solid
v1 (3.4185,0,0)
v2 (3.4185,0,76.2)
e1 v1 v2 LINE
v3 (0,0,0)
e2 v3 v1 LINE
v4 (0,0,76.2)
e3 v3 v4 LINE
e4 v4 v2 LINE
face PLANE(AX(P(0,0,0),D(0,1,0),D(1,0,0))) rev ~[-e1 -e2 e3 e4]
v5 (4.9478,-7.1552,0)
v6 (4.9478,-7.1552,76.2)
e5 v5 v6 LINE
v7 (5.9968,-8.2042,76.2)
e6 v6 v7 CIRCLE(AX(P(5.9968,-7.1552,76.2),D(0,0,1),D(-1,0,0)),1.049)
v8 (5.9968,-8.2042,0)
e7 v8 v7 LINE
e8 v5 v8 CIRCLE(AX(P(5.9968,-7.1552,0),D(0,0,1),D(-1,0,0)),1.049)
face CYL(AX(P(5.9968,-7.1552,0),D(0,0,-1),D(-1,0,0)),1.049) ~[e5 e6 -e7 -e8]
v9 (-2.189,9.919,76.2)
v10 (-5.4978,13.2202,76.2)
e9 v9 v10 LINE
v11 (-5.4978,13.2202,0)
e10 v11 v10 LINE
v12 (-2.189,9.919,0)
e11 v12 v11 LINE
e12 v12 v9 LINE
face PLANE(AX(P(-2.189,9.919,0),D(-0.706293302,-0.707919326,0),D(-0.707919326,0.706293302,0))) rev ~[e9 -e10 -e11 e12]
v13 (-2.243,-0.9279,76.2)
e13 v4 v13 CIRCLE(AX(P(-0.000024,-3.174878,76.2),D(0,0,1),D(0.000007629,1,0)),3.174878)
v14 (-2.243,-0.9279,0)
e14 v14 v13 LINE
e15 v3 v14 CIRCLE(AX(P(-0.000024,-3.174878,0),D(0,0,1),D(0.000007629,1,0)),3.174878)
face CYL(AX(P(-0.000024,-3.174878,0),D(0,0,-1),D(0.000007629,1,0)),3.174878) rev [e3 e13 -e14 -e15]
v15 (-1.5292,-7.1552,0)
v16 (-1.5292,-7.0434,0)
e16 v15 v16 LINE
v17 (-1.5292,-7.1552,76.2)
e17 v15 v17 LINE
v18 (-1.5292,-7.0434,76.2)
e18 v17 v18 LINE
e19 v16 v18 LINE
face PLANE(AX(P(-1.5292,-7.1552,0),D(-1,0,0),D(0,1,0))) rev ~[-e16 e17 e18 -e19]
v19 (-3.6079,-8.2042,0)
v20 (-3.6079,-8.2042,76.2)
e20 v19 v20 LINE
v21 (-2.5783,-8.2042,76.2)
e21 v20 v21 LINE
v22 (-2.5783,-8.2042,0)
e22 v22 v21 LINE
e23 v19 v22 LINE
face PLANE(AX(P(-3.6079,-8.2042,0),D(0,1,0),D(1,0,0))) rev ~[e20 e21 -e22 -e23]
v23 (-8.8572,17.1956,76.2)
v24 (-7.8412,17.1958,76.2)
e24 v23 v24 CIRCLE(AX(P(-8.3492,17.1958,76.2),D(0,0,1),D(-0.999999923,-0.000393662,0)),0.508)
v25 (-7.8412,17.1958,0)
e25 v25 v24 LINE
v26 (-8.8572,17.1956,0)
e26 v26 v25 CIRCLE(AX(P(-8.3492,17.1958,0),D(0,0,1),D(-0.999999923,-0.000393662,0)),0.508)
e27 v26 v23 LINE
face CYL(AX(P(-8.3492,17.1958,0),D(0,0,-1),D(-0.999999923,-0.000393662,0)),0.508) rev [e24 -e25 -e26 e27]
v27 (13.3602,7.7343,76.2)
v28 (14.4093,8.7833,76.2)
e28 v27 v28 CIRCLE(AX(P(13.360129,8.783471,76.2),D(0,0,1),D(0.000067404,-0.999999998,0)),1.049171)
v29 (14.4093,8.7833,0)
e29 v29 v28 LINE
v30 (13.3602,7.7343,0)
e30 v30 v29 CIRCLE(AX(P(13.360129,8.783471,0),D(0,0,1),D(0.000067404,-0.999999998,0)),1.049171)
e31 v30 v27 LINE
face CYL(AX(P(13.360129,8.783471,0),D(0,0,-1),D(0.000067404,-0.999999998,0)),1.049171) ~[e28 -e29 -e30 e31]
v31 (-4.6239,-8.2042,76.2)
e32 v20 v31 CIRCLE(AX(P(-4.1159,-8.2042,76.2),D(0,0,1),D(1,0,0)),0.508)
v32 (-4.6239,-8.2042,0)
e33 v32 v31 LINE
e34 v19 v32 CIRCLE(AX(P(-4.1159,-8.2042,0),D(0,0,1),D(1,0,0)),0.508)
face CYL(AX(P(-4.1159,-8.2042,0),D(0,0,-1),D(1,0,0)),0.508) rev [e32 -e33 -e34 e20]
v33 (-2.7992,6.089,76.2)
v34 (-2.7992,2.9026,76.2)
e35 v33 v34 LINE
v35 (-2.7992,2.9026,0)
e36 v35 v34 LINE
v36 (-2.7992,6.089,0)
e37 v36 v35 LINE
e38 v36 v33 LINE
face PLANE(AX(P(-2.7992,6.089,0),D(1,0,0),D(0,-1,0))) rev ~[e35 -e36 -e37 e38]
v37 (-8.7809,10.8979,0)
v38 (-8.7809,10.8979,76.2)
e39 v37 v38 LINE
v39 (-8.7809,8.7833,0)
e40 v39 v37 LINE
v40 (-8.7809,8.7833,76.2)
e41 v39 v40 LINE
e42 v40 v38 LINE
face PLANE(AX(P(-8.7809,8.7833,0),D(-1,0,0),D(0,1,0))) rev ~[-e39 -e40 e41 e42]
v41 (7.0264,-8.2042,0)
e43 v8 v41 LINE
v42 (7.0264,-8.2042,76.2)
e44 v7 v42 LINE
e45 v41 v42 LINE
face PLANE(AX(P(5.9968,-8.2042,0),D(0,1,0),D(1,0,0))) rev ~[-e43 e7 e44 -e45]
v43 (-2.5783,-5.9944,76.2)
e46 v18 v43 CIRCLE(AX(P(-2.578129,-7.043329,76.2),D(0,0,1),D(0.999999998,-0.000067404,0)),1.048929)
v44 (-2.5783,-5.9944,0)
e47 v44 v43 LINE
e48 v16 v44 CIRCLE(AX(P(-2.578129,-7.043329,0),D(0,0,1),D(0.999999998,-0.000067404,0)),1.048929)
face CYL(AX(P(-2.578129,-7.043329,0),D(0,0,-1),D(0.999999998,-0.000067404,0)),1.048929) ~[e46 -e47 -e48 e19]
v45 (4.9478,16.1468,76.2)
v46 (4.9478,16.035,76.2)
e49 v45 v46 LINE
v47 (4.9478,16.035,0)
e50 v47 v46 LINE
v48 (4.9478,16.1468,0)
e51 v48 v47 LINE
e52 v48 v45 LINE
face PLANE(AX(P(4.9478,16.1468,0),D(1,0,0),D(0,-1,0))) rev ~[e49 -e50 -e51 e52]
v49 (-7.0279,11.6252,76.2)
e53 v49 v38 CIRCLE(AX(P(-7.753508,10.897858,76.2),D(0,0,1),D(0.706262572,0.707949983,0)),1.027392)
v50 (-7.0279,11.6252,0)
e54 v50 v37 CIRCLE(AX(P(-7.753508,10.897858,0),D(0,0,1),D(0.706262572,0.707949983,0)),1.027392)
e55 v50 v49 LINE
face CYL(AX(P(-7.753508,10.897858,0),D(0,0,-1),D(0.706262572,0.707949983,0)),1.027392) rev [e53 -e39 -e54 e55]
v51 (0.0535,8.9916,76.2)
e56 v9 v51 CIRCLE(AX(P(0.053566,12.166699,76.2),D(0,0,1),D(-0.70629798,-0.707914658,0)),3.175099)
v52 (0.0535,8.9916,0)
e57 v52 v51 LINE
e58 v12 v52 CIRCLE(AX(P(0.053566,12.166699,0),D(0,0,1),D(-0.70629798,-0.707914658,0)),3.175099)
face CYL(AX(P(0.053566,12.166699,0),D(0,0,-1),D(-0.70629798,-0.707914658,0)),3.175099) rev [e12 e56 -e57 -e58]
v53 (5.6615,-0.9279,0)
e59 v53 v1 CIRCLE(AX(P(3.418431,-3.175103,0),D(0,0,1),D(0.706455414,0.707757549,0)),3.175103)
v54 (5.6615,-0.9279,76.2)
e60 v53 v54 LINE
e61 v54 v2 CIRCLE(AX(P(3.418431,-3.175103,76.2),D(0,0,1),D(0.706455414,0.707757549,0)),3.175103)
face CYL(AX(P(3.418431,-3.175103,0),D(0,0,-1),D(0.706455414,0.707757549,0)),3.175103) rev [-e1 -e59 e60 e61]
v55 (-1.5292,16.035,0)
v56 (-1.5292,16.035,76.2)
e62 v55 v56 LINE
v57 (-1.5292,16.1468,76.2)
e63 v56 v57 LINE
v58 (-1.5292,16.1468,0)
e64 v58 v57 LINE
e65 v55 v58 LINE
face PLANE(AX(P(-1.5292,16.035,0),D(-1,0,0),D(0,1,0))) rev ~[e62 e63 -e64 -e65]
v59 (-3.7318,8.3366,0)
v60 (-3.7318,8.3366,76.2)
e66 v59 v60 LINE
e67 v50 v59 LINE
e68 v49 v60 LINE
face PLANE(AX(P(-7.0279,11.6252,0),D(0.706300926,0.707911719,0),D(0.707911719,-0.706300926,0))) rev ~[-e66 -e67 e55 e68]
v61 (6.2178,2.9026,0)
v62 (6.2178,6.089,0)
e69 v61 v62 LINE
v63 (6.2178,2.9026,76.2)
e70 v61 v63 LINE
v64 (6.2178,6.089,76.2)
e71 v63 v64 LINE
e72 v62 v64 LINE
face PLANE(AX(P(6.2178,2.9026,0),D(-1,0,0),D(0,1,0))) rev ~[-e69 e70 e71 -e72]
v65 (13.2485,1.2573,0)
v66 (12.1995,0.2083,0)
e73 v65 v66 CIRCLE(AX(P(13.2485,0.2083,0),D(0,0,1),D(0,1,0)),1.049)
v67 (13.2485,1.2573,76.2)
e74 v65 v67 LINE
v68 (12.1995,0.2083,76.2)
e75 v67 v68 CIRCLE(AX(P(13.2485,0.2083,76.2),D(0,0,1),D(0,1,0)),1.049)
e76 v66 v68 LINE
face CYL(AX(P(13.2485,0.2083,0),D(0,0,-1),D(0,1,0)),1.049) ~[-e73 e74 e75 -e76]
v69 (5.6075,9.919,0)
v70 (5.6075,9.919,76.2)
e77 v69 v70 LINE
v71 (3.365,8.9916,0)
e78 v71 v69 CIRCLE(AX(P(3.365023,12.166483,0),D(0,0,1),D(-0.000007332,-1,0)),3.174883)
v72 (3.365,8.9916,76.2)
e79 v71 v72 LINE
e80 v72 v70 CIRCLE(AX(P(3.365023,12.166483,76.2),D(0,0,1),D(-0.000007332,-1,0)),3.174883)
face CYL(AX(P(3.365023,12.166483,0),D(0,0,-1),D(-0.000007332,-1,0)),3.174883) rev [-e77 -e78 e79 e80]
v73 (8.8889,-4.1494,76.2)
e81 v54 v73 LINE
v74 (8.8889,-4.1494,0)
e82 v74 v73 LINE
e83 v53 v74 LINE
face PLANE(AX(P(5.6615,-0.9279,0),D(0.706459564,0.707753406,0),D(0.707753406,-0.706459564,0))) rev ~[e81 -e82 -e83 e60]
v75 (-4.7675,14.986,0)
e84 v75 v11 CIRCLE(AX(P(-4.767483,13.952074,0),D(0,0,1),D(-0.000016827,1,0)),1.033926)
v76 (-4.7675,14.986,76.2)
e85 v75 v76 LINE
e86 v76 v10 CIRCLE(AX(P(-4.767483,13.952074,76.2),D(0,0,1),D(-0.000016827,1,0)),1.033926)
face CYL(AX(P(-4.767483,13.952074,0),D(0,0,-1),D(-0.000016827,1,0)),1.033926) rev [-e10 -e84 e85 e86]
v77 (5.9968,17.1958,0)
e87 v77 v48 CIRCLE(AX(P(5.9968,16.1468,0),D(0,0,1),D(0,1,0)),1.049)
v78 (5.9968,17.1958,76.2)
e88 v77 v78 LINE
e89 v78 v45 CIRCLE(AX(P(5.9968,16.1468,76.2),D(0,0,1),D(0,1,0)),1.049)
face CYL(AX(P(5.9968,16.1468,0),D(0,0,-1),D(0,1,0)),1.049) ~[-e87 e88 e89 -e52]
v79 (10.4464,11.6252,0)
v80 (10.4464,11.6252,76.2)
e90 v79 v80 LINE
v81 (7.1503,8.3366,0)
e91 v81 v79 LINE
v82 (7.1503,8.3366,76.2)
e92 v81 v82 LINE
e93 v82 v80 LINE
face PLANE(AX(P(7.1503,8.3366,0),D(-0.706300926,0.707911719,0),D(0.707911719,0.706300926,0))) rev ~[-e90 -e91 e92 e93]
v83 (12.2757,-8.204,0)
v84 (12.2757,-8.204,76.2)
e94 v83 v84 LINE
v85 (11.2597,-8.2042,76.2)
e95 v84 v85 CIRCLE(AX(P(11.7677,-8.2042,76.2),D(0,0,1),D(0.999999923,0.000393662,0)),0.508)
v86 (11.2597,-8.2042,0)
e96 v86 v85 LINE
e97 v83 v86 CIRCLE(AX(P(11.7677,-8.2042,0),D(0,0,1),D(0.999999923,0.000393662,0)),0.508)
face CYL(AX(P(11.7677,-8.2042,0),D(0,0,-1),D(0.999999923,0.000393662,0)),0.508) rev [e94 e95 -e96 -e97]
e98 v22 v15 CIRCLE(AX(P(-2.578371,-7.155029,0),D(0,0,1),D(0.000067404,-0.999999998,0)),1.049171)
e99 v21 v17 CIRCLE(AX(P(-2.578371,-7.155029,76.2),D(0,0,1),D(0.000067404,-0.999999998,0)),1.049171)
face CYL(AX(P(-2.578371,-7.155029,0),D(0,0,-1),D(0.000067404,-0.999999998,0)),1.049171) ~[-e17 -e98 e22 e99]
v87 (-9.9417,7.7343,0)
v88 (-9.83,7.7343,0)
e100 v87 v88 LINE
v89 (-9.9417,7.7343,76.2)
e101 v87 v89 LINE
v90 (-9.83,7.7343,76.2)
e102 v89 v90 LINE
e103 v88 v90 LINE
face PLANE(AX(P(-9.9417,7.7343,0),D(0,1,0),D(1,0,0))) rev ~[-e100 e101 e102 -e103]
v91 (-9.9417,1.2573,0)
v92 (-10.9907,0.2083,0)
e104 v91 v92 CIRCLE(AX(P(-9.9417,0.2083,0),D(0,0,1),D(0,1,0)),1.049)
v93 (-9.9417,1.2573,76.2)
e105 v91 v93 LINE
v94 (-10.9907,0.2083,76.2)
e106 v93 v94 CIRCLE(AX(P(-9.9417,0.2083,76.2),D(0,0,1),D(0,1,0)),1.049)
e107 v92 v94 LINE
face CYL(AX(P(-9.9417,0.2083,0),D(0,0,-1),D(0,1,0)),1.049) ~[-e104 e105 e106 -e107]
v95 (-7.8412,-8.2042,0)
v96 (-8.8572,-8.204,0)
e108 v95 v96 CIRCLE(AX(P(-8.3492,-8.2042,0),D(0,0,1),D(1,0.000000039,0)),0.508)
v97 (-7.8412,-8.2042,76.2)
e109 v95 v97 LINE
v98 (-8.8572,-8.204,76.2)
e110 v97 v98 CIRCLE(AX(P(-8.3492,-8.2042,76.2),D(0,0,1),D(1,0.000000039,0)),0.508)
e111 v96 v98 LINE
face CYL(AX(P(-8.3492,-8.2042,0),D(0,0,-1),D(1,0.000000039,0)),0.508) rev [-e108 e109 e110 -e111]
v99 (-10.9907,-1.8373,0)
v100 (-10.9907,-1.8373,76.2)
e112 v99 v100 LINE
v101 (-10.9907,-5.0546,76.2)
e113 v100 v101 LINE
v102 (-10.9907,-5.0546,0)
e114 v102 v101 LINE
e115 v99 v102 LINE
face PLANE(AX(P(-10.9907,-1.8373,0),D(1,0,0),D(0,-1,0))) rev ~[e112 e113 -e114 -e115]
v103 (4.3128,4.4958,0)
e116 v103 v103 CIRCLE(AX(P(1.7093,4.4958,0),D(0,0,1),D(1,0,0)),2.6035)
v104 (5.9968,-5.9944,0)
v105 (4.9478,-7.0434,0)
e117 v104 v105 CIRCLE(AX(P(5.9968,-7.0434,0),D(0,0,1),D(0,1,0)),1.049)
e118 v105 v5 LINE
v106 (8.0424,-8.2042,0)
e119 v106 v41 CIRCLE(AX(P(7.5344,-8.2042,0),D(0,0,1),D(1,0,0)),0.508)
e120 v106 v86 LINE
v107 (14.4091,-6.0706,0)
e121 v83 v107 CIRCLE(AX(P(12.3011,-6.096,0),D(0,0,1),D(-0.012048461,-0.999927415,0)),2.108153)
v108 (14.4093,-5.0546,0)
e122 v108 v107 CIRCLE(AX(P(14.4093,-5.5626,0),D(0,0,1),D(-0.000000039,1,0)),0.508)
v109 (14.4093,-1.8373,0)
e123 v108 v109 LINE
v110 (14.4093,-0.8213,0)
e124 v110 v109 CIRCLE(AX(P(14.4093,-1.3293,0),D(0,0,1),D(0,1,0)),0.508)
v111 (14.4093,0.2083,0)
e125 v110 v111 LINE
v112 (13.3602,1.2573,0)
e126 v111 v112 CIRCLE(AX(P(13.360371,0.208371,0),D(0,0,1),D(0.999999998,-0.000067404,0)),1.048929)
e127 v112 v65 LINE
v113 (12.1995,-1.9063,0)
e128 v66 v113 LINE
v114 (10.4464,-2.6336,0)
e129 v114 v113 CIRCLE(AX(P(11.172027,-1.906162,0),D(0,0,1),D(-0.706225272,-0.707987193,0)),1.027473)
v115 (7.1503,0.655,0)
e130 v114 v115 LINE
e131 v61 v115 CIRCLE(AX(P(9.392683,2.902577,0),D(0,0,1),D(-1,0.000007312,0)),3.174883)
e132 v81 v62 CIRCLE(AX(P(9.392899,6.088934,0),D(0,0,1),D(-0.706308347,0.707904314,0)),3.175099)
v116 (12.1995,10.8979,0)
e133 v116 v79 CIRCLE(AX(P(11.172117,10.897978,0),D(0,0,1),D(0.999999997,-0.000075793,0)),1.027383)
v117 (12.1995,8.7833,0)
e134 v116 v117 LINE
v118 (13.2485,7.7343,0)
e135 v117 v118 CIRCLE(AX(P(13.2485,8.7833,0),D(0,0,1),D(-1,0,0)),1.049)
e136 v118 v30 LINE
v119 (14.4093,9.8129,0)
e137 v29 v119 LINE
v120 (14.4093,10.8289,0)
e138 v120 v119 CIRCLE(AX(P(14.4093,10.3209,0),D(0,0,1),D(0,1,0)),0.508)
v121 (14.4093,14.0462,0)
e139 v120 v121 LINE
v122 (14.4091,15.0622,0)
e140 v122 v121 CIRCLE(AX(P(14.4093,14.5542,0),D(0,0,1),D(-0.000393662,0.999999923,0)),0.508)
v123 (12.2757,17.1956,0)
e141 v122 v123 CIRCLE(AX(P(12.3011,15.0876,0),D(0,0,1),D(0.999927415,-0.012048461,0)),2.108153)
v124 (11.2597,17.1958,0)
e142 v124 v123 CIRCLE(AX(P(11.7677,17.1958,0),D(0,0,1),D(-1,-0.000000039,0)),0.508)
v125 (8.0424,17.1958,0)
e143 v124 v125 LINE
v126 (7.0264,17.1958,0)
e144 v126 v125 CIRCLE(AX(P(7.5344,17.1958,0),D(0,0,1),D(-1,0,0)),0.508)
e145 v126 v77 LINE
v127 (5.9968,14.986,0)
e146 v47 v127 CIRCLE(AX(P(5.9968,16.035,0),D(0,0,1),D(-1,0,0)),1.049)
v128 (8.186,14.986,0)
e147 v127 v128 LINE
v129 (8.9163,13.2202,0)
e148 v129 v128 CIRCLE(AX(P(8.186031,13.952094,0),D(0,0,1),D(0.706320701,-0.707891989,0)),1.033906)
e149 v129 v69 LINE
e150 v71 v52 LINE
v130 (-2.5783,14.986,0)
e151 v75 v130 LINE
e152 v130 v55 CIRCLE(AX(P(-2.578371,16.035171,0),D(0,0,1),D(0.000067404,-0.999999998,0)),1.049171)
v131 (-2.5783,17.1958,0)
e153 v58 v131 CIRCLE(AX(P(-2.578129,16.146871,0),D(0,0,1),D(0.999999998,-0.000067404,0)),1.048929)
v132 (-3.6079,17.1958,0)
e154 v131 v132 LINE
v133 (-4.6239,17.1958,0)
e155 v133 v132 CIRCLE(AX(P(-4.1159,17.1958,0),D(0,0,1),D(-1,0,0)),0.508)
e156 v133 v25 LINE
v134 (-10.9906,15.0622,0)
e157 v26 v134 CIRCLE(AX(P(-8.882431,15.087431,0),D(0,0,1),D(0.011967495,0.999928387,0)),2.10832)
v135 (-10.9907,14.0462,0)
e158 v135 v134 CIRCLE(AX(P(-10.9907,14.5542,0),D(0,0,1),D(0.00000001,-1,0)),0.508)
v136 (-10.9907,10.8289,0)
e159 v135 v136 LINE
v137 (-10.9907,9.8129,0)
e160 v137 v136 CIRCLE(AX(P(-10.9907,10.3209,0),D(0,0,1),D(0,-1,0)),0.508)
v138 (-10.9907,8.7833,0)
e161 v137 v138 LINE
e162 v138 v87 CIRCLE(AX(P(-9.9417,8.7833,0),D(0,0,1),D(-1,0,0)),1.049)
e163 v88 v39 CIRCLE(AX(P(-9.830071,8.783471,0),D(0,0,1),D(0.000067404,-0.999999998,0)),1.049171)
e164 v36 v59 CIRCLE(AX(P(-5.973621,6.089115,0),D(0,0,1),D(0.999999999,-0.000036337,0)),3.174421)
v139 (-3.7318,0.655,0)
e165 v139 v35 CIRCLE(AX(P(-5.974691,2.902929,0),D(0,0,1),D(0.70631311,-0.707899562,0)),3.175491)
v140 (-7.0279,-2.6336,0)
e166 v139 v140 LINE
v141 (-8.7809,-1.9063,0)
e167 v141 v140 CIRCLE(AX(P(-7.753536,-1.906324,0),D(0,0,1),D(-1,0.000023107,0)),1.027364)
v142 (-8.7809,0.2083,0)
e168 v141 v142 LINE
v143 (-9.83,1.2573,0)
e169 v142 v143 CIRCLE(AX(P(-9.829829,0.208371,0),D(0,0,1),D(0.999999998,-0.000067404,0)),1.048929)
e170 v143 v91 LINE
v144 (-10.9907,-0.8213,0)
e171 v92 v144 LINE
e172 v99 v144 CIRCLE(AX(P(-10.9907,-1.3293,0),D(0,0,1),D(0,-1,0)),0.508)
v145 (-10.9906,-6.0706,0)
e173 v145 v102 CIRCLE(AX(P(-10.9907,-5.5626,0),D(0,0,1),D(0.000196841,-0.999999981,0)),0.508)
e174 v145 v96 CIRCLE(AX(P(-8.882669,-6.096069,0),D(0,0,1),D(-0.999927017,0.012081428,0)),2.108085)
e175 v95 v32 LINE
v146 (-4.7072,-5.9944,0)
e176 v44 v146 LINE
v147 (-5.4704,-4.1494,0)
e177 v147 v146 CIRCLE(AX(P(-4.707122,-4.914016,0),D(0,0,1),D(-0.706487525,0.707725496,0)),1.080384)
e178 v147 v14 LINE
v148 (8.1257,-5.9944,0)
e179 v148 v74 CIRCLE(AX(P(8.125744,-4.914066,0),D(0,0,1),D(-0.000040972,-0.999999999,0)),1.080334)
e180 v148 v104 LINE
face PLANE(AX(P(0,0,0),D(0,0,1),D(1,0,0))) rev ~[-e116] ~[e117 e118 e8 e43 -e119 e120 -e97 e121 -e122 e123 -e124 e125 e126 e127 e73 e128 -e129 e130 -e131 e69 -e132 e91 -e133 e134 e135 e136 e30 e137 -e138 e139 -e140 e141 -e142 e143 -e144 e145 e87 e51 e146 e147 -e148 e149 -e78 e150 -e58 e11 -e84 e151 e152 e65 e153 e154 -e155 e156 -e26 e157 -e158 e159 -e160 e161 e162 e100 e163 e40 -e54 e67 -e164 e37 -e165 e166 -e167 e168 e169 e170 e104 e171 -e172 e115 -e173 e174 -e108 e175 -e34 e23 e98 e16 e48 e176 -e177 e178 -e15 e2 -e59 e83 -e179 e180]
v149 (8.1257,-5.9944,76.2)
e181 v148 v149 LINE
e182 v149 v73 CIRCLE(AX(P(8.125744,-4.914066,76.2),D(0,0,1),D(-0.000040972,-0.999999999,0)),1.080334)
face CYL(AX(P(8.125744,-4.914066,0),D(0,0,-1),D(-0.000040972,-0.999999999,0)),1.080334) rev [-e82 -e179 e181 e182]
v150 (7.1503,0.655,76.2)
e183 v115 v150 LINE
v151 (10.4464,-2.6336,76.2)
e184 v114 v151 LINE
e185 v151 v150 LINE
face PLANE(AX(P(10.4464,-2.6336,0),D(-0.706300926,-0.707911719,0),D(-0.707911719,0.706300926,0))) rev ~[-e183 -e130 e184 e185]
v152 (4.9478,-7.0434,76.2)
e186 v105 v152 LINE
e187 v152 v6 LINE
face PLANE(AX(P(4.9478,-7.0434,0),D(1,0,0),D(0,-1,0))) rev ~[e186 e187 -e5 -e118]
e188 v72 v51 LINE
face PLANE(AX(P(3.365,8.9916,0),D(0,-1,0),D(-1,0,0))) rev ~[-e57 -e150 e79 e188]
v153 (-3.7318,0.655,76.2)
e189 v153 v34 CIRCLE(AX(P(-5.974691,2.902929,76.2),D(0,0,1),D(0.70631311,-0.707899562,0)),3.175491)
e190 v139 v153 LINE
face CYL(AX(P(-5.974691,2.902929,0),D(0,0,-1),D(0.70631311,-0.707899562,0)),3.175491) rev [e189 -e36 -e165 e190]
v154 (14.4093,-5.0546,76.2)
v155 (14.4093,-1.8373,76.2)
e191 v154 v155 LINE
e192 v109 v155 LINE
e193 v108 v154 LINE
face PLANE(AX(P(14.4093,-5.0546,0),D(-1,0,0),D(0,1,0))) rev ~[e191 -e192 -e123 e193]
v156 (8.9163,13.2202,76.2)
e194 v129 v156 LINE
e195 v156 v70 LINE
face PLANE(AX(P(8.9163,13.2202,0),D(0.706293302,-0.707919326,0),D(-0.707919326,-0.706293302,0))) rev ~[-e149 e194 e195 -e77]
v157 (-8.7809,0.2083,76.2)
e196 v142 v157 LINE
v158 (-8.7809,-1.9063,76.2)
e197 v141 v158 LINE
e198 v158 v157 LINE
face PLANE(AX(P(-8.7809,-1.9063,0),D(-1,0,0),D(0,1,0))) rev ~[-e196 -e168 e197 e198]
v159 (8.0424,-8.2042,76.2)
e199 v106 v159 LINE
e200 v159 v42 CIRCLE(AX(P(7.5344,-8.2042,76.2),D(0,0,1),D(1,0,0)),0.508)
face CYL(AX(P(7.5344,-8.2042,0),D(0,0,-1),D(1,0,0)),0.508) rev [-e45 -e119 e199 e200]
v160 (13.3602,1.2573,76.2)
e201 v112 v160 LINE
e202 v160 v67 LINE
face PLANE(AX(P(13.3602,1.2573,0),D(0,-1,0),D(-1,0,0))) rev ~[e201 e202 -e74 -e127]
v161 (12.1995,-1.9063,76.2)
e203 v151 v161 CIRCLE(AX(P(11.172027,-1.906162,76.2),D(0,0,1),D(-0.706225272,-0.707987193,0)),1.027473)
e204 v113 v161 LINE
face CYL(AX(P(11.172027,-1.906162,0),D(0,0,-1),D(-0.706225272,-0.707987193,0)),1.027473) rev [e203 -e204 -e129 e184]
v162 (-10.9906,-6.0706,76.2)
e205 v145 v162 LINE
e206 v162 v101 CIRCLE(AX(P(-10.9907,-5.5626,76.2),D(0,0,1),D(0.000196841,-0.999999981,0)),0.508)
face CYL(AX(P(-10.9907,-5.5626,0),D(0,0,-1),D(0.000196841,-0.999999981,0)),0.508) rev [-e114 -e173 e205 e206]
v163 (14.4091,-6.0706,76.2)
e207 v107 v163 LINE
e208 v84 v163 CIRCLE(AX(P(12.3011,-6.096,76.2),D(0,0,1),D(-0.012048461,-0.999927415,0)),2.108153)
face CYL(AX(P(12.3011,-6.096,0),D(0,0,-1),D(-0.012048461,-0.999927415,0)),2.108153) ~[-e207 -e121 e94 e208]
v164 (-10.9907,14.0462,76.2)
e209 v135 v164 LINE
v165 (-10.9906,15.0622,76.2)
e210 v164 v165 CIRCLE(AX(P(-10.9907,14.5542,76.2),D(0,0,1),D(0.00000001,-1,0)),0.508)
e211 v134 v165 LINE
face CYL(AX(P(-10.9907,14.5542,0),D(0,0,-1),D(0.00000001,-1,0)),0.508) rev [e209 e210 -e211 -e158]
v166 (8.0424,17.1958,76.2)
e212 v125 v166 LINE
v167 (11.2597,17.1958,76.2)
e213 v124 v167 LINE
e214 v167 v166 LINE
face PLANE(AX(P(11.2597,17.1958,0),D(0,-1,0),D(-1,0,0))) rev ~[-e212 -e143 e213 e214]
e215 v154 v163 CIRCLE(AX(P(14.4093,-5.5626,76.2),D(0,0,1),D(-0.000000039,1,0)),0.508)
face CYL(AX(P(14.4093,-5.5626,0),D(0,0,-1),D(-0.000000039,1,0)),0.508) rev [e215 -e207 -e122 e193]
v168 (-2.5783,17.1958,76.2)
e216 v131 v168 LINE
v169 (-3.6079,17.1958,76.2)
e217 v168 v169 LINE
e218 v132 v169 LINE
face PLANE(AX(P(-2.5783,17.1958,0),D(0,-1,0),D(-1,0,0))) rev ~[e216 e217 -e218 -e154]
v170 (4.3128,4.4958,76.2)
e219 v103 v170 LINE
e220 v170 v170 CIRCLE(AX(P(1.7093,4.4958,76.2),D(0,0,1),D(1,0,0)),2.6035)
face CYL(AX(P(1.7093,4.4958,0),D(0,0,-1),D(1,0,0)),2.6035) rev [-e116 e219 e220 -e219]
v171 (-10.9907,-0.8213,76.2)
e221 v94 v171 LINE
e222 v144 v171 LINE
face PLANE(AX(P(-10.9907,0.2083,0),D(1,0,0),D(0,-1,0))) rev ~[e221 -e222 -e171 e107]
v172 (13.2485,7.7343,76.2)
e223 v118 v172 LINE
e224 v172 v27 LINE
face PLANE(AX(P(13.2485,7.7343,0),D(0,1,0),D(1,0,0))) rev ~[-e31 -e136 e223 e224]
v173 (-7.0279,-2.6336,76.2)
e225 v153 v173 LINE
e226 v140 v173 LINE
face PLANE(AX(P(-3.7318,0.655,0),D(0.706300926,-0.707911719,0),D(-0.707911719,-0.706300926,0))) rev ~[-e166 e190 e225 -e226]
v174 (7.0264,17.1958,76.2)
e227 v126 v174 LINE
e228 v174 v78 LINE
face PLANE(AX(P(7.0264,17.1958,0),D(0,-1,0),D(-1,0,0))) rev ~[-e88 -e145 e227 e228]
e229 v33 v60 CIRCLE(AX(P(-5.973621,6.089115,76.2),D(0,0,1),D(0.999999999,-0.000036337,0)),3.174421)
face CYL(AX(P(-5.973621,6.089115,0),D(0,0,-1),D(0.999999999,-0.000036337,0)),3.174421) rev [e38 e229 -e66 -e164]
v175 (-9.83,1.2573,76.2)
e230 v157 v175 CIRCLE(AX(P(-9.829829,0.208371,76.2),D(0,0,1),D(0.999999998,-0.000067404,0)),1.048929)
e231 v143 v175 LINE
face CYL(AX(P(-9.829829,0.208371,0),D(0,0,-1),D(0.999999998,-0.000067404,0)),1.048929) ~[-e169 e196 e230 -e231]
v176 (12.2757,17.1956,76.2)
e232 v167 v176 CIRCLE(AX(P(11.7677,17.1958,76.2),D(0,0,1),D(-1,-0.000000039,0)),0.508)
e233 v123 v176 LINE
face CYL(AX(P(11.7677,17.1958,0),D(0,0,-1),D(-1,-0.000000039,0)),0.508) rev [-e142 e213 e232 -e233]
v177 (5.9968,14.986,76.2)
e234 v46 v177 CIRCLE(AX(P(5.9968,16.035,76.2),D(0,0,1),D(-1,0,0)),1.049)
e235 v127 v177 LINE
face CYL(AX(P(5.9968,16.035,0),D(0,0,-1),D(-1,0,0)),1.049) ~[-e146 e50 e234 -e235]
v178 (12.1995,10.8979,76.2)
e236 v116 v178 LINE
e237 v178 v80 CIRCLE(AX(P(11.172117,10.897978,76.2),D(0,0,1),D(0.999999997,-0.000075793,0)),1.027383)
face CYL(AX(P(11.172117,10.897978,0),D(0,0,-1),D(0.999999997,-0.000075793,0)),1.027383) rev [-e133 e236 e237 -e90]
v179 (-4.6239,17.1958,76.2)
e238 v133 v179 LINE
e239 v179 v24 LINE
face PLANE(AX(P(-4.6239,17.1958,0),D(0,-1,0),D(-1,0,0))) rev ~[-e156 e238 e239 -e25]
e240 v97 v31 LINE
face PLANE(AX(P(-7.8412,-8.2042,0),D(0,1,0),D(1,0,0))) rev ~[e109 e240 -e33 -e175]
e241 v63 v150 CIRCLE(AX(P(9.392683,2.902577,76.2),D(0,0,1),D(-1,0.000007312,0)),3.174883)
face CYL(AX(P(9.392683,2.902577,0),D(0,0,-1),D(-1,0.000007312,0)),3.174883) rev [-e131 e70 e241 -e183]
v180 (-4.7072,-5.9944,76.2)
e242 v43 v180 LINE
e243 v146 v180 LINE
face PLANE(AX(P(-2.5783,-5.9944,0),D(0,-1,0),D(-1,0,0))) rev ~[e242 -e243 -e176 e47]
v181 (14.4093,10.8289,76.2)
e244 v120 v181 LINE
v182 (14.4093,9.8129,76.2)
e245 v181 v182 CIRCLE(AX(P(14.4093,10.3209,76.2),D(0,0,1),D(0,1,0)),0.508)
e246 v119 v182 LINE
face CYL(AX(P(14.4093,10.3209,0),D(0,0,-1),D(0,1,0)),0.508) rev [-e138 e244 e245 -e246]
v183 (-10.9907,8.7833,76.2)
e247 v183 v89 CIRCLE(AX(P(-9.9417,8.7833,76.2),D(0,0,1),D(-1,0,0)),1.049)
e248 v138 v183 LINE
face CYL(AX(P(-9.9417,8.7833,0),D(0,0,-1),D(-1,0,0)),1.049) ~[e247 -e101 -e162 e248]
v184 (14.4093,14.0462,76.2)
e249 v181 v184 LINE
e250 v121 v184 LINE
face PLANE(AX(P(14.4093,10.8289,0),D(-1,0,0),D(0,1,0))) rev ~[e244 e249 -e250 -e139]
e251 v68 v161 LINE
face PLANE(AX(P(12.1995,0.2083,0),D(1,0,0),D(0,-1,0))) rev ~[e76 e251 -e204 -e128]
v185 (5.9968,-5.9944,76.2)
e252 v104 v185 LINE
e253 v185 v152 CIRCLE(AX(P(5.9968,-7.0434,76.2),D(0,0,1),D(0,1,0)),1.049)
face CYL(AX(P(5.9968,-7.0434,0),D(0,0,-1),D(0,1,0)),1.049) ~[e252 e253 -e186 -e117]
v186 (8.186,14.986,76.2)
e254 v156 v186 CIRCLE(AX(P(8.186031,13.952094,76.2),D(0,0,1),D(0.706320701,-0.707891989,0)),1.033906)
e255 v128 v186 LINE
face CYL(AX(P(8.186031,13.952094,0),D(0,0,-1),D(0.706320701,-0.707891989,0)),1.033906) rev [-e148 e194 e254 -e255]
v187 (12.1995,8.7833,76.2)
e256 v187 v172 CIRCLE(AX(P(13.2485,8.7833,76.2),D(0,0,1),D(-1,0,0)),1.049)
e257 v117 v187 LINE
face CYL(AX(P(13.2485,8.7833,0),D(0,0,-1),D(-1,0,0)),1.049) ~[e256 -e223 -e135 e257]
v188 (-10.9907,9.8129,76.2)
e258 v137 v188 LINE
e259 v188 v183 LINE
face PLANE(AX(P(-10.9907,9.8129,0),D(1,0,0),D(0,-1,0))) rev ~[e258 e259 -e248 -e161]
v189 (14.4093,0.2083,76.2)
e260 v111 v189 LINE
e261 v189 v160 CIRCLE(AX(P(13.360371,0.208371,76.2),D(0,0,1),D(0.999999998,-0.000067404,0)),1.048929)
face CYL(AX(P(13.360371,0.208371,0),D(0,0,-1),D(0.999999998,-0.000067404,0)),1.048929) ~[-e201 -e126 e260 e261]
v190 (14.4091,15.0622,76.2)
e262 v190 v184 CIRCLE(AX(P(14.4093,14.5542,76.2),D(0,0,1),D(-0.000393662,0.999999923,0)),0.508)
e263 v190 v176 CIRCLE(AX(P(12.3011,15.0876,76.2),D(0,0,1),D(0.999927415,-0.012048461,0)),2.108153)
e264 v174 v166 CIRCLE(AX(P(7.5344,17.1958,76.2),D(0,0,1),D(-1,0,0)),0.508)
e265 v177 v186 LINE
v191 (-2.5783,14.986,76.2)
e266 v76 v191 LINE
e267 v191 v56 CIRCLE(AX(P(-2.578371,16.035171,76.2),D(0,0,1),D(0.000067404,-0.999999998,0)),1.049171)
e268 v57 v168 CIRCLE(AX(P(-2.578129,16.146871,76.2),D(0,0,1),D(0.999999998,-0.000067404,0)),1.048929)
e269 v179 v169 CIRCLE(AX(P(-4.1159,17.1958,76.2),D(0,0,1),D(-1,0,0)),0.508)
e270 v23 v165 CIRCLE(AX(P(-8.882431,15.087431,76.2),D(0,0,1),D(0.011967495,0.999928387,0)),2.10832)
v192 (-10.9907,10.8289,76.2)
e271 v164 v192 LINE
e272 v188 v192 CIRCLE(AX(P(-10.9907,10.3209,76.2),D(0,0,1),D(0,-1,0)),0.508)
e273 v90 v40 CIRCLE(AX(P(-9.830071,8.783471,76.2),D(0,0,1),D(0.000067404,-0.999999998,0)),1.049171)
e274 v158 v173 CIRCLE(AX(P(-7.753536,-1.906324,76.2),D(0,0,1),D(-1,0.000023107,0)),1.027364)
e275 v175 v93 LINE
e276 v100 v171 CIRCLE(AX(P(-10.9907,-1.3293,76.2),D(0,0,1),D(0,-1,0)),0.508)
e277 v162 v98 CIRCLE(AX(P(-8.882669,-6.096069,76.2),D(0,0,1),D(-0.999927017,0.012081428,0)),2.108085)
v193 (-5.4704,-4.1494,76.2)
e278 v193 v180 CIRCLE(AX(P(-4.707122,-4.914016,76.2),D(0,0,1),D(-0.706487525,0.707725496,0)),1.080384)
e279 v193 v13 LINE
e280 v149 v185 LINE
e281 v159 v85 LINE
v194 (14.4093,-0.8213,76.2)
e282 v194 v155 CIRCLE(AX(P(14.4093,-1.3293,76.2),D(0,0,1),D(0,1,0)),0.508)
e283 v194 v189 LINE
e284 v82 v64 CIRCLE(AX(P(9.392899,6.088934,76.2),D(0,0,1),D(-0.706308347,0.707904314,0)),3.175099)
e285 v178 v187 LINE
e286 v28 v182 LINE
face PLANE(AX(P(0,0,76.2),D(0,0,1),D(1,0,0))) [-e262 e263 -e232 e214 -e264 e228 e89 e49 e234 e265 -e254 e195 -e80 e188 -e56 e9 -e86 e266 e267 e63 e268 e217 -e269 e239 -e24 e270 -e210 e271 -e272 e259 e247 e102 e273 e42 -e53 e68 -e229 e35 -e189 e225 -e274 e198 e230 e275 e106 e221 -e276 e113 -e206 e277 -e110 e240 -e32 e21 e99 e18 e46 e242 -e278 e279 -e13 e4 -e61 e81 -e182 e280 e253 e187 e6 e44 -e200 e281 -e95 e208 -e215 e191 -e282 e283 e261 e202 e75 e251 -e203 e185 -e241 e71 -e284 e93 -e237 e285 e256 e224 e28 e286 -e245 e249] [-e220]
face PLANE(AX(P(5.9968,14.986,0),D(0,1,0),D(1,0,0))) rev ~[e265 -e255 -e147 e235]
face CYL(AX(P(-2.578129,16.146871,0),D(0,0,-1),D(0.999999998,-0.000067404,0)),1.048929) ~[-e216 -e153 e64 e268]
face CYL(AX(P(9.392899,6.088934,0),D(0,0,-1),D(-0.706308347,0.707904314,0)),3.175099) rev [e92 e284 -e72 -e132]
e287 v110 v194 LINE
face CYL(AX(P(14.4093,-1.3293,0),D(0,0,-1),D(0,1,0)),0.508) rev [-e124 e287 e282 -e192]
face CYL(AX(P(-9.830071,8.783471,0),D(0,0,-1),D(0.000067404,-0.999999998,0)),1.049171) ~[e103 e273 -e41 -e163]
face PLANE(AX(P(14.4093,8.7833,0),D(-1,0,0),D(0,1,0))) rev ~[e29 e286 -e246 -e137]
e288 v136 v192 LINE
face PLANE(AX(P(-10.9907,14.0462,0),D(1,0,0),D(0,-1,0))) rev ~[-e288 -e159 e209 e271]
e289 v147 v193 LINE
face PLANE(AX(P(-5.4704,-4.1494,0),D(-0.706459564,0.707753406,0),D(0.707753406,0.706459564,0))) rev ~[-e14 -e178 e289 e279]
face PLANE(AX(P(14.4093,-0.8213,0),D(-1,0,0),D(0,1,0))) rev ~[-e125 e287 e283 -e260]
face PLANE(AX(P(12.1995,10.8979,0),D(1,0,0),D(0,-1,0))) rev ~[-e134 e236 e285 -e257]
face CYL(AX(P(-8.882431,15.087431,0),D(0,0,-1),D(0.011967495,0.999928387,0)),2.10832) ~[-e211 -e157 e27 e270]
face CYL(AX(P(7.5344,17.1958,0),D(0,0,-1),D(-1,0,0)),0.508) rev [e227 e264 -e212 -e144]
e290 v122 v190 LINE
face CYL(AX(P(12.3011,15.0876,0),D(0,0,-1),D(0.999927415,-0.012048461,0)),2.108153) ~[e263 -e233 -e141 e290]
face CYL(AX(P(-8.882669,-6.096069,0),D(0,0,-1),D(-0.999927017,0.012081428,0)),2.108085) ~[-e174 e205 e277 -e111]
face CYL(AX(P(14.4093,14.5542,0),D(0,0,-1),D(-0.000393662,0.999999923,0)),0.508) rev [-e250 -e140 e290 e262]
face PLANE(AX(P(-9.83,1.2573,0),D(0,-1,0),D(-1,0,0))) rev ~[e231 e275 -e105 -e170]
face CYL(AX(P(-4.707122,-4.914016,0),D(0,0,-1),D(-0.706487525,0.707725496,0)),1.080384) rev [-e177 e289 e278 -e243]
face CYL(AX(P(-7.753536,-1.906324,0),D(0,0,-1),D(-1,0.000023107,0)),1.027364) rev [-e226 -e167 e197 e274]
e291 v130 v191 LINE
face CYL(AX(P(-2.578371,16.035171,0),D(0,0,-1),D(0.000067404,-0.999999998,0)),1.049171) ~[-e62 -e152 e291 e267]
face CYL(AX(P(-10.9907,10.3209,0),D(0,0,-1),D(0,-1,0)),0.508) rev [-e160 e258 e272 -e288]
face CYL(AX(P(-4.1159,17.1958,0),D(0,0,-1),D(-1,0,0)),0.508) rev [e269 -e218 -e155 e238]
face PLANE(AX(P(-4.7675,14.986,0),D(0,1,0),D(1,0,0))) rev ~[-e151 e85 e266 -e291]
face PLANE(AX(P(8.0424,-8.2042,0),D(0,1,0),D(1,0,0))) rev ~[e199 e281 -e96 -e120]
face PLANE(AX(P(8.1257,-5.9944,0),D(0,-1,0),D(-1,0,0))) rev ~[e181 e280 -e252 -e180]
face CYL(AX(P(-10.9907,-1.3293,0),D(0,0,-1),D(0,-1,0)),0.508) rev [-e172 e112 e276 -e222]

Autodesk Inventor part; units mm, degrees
ref_plane "YZ Plane" through (0, 0, 0) normal (1, 0, 0) x (0, 1, 0)
ref_plane "XZ Plane" through (0, 0, 0) normal (0, 1, 0) x (-1, 0, 0)
ref_plane "XY Plane" through (0, 0, 0) normal (0, 0, 1) x (1, 0, 0)
sketch "Sketch1" plane through (0, 0, 0) normal (0, 0, 1) x (1, 0, 0)
  arc A0 (-5.4704, -4.1494) -> (-4.7072, -5.9944) centre (-4.7072, -4.914) ccw
  line L0 (-5.4704, -4.1494) -> (-2.243, -0.9279)
  arc A1 (0, 0) -> (-2.243, -0.9279) centre (0, -3.175) ccw
  line L1 (0, 0) -> (3.4185, 0)
  arc A2 (5.6615, -0.9279) -> (3.4185, 0) centre (3.4185, -3.175) ccw
  line L2 (5.6615, -0.9279) -> (8.8889, -4.1494)
  arc A3 (8.1257, -5.9944) -> (8.8889, -4.1494) centre (8.1257, -4.914) ccw
  line L3 (8.1257, -5.9944) -> (5.9968, -5.9944)
  arc A4 (5.9968, -5.9944) -> (4.9478, -7.0434) centre (5.9968, -7.0434) ccw
  line L4 (4.9478, -7.0434) -> (4.9478, -7.1552)
  arc A5 (4.9478, -7.1552) -> (5.9968, -8.2042) centre (5.9968, -7.1552) ccw
  line L5 (5.9968, -8.2042) -> (7.0264, -8.2042)
  arc A6 (8.0424, -8.2042) -> (7.0264, -8.2042) centre (7.5344, -8.2042) ccw
  line L6 (8.0424, -8.2042) -> (11.2597, -8.2042)
  arc A7 (12.2757, -8.204) -> (11.2597, -8.2042) centre (11.7677, -8.2042) ccw
  arc A8 (12.2757, -8.204) -> (14.4091, -6.0706) centre (12.3011, -6.096) ccw
  arc A9 (14.4093, -5.0546) -> (14.4091, -6.0706) centre (14.4093, -5.5626) ccw
  line L7 (14.4093, -5.0546) -> (14.4093, -1.8373)
  arc A10 (14.4093, -0.8213) -> (14.4093, -1.8373) centre (14.4093, -1.3293) ccw
  line L8 (14.4093, -0.8213) -> (14.4093, 0.2083)
  arc A11 (14.4093, 0.2083) -> (13.3602, 1.2573) centre (13.3602, 0.2083) ccw
  line L9 (13.3602, 1.2573) -> (13.2485, 1.2573)
  arc A12 (13.2485, 1.2573) -> (12.1995, 0.2083) centre (13.2485, 0.2083) ccw
  line L10 (12.1995, 0.2083) -> (12.1995, -1.9063)
  arc A13 (10.4464, -2.6336) -> (12.1995, -1.9063) centre (11.172, -1.9063) ccw
  line L11 (10.4464, -2.6336) -> (7.1503, 0.655)
  arc A14 (6.2178, 2.9026) -> (7.1503, 0.655) centre (9.3928, 2.9026) ccw
  line L12 (6.2178, 2.9026) -> (6.2178, 6.089)
  arc A15 (7.1503, 8.3366) -> (6.2178, 6.089) centre (9.3928, 6.089) ccw
  line L13 (7.1503, 8.3366) -> (10.4464, 11.6252)
  arc A16 (12.1995, 10.8979) -> (10.4464, 11.6252) centre (11.172, 10.8979) ccw
  line L14 (12.1995, 10.8979) -> (12.1995, 8.7833)
  arc A17 (12.1995, 8.7833) -> (13.2485, 7.7343) centre (13.2485, 8.7833) ccw
  line L15 (13.2485, 7.7343) -> (13.3602, 7.7343)
  arc A18 (13.3602, 7.7343) -> (14.4093, 8.7833) centre (13.3602, 8.7833) ccw
  line L16 (14.4093, 8.7833) -> (14.4093, 9.8129)
  arc A19 (14.4093, 10.8289) -> (14.4093, 9.8129) centre (14.4093, 10.3209) ccw
  line L17 (14.4093, 10.8289) -> (14.4093, 14.0462)
  arc A20 (14.4091, 15.0622) -> (14.4093, 14.0462) centre (14.4093, 14.5542) ccw
  arc A21 (14.4091, 15.0622) -> (12.2757, 17.1956) centre (12.3011, 15.0876) ccw
  arc A22 (11.2597, 17.1958) -> (12.2757, 17.1956) centre (11.7677, 17.1958) ccw
  line L18 (11.2597, 17.1958) -> (8.0424, 17.1958)
  arc A23 (7.0264, 17.1958) -> (8.0424, 17.1958) centre (7.5344, 17.1958) ccw
  line L19 (7.0264, 17.1958) -> (5.9968, 17.1958)
  arc A24 (5.9968, 17.1958) -> (4.9478, 16.1468) centre (5.9968, 16.1468) ccw
  line L20 (4.9478, 16.1468) -> (4.9478, 16.035)
  arc A25 (4.9478, 16.035) -> (5.9968, 14.986) centre (5.9968, 16.035) ccw
  line L21 (5.9968, 14.986) -> (8.186, 14.986)
  arc A26 (8.9163, 13.2202) -> (8.186, 14.986) centre (8.186, 13.9521) ccw
  line L22 (8.9163, 13.2202) -> (5.6075, 9.919)
  arc A27 (3.365, 8.9916) -> (5.6075, 9.919) centre (3.365, 12.1666) ccw
  line L23 (3.365, 8.9916) -> (0.0535, 8.9916)
  arc A28 (-2.189, 9.919) -> (0.0535, 8.9916) centre (0.0535, 12.1666) ccw
  line L24 (-2.189, 9.919) -> (-5.4978, 13.2202)
  arc A29 (-4.7675, 14.986) -> (-5.4978, 13.2202) centre (-4.7675, 13.9521) ccw
  line L25 (-4.7675, 14.986) -> (-2.5783, 14.986)
  arc A30 (-2.5783, 14.986) -> (-1.5292, 16.035) centre (-2.5783, 16.035) ccw
  line L26 (-1.5292, 16.035) -> (-1.5292, 16.1468)
  arc A31 (-1.5292, 16.1468) -> (-2.5783, 17.1958) centre (-2.5783, 16.1468) ccw
  line L27 (-2.5783, 17.1958) -> (-3.6079, 17.1958)
  arc A32 (-4.6239, 17.1958) -> (-3.6079, 17.1958) centre (-4.1159, 17.1958) ccw
  line L28 (-4.6239, 17.1958) -> (-7.8412, 17.1958)
  arc A33 (-8.8572, 17.1956) -> (-7.8412, 17.1958) centre (-8.3492, 17.1958) ccw
  arc A34 (-8.8572, 17.1956) -> (-10.9906, 15.0622) centre (-8.8825, 15.0876) ccw
  arc A35 (-10.9907, 14.0462) -> (-10.9906, 15.0622) centre (-10.9907, 14.5542) ccw
  line L29 (-10.9907, 14.0462) -> (-10.9907, 10.8289)
  arc A36 (-10.9907, 9.8129) -> (-10.9907, 10.8289) centre (-10.9907, 10.3209) ccw
  line L30 (-10.9907, 9.8129) -> (-10.9907, 8.7833)
  arc A37 (-10.9907, 8.7833) -> (-9.9417, 7.7343) centre (-9.9417, 8.7833) ccw
  line L31 (-9.9417, 7.7343) -> (-9.83, 7.7343)
  arc A38 (-9.83, 7.7343) -> (-8.7809, 8.7833) centre (-9.83, 8.7833) ccw
  line L32 (-8.7809, 8.7833) -> (-8.7809, 10.8979)
  arc A39 (-7.0279, 11.6252) -> (-8.7809, 10.8979) centre (-7.7535, 10.8979) ccw
  line L33 (-7.0279, 11.6252) -> (-3.7318, 8.3366)
  arc A40 (-2.7992, 6.089) -> (-3.7318, 8.3366) centre (-5.9742, 6.089) ccw
  line L34 (-2.7992, 6.089) -> (-2.7992, 2.9026)
  arc A41 (-3.7318, 0.655) -> (-2.7992, 2.9026) centre (-5.9742, 2.9026) ccw
  line L35 (-3.7318, 0.655) -> (-7.0279, -2.6336)
  arc A42 (-8.7809, -1.9063) -> (-7.0279, -2.6336) centre (-7.7535, -1.9063) ccw
  line L36 (-8.7809, -1.9063) -> (-8.7809, 0.2083)
  arc A43 (-8.7809, 0.2083) -> (-9.83, 1.2573) centre (-9.83, 0.2083) ccw
  line L37 (-9.83, 1.2573) -> (-9.9417, 1.2573)
  arc A44 (-9.9417, 1.2573) -> (-10.9907, 0.2083) centre (-9.9417, 0.2083) ccw
  line L38 (-10.9907, 0.2083) -> (-10.9907, -0.8213)
  arc A45 (-10.9907, -1.8373) -> (-10.9907, -0.8213) centre (-10.9907, -1.3293) ccw
  line L39 (-10.9907, -1.8373) -> (-10.9907, -5.0546)
  arc A46 (-10.9906, -6.0706) -> (-10.9907, -5.0546) centre (-10.9907, -5.5626) ccw
  arc A47 (-10.9906, -6.0706) -> (-8.8572, -8.204) centre (-8.8825, -6.096) ccw
  arc A48 (-7.8412, -8.2042) -> (-8.8572, -8.204) centre (-8.3492, -8.2042) ccw
  line L40 (-7.8412, -8.2042) -> (-4.6239, -8.2042)
  arc A49 (-3.6079, -8.2042) -> (-4.6239, -8.2042) centre (-4.1159, -8.2042) ccw
  line L41 (-3.6079, -8.2042) -> (-2.5783, -8.2042)
  arc A50 (-2.5783, -8.2042) -> (-1.5292, -7.1552) centre (-2.5783, -7.1552) ccw
  line L42 (-1.5292, -7.1552) -> (-1.5292, -7.0434)
  arc A51 (-1.5292, -7.0434) -> (-2.5783, -5.9944) centre (-2.5783, -7.0434) ccw
  line L43 (-2.5783, -5.9944) -> (-4.7072, -5.9944)
  circle A52 centre (1.7093, 4.4958) radius 2.6035
extrude "Extrusion1" add sketch "Sketch1" along normal blind 76.2
properties part number "3in 1x1 T slot"
